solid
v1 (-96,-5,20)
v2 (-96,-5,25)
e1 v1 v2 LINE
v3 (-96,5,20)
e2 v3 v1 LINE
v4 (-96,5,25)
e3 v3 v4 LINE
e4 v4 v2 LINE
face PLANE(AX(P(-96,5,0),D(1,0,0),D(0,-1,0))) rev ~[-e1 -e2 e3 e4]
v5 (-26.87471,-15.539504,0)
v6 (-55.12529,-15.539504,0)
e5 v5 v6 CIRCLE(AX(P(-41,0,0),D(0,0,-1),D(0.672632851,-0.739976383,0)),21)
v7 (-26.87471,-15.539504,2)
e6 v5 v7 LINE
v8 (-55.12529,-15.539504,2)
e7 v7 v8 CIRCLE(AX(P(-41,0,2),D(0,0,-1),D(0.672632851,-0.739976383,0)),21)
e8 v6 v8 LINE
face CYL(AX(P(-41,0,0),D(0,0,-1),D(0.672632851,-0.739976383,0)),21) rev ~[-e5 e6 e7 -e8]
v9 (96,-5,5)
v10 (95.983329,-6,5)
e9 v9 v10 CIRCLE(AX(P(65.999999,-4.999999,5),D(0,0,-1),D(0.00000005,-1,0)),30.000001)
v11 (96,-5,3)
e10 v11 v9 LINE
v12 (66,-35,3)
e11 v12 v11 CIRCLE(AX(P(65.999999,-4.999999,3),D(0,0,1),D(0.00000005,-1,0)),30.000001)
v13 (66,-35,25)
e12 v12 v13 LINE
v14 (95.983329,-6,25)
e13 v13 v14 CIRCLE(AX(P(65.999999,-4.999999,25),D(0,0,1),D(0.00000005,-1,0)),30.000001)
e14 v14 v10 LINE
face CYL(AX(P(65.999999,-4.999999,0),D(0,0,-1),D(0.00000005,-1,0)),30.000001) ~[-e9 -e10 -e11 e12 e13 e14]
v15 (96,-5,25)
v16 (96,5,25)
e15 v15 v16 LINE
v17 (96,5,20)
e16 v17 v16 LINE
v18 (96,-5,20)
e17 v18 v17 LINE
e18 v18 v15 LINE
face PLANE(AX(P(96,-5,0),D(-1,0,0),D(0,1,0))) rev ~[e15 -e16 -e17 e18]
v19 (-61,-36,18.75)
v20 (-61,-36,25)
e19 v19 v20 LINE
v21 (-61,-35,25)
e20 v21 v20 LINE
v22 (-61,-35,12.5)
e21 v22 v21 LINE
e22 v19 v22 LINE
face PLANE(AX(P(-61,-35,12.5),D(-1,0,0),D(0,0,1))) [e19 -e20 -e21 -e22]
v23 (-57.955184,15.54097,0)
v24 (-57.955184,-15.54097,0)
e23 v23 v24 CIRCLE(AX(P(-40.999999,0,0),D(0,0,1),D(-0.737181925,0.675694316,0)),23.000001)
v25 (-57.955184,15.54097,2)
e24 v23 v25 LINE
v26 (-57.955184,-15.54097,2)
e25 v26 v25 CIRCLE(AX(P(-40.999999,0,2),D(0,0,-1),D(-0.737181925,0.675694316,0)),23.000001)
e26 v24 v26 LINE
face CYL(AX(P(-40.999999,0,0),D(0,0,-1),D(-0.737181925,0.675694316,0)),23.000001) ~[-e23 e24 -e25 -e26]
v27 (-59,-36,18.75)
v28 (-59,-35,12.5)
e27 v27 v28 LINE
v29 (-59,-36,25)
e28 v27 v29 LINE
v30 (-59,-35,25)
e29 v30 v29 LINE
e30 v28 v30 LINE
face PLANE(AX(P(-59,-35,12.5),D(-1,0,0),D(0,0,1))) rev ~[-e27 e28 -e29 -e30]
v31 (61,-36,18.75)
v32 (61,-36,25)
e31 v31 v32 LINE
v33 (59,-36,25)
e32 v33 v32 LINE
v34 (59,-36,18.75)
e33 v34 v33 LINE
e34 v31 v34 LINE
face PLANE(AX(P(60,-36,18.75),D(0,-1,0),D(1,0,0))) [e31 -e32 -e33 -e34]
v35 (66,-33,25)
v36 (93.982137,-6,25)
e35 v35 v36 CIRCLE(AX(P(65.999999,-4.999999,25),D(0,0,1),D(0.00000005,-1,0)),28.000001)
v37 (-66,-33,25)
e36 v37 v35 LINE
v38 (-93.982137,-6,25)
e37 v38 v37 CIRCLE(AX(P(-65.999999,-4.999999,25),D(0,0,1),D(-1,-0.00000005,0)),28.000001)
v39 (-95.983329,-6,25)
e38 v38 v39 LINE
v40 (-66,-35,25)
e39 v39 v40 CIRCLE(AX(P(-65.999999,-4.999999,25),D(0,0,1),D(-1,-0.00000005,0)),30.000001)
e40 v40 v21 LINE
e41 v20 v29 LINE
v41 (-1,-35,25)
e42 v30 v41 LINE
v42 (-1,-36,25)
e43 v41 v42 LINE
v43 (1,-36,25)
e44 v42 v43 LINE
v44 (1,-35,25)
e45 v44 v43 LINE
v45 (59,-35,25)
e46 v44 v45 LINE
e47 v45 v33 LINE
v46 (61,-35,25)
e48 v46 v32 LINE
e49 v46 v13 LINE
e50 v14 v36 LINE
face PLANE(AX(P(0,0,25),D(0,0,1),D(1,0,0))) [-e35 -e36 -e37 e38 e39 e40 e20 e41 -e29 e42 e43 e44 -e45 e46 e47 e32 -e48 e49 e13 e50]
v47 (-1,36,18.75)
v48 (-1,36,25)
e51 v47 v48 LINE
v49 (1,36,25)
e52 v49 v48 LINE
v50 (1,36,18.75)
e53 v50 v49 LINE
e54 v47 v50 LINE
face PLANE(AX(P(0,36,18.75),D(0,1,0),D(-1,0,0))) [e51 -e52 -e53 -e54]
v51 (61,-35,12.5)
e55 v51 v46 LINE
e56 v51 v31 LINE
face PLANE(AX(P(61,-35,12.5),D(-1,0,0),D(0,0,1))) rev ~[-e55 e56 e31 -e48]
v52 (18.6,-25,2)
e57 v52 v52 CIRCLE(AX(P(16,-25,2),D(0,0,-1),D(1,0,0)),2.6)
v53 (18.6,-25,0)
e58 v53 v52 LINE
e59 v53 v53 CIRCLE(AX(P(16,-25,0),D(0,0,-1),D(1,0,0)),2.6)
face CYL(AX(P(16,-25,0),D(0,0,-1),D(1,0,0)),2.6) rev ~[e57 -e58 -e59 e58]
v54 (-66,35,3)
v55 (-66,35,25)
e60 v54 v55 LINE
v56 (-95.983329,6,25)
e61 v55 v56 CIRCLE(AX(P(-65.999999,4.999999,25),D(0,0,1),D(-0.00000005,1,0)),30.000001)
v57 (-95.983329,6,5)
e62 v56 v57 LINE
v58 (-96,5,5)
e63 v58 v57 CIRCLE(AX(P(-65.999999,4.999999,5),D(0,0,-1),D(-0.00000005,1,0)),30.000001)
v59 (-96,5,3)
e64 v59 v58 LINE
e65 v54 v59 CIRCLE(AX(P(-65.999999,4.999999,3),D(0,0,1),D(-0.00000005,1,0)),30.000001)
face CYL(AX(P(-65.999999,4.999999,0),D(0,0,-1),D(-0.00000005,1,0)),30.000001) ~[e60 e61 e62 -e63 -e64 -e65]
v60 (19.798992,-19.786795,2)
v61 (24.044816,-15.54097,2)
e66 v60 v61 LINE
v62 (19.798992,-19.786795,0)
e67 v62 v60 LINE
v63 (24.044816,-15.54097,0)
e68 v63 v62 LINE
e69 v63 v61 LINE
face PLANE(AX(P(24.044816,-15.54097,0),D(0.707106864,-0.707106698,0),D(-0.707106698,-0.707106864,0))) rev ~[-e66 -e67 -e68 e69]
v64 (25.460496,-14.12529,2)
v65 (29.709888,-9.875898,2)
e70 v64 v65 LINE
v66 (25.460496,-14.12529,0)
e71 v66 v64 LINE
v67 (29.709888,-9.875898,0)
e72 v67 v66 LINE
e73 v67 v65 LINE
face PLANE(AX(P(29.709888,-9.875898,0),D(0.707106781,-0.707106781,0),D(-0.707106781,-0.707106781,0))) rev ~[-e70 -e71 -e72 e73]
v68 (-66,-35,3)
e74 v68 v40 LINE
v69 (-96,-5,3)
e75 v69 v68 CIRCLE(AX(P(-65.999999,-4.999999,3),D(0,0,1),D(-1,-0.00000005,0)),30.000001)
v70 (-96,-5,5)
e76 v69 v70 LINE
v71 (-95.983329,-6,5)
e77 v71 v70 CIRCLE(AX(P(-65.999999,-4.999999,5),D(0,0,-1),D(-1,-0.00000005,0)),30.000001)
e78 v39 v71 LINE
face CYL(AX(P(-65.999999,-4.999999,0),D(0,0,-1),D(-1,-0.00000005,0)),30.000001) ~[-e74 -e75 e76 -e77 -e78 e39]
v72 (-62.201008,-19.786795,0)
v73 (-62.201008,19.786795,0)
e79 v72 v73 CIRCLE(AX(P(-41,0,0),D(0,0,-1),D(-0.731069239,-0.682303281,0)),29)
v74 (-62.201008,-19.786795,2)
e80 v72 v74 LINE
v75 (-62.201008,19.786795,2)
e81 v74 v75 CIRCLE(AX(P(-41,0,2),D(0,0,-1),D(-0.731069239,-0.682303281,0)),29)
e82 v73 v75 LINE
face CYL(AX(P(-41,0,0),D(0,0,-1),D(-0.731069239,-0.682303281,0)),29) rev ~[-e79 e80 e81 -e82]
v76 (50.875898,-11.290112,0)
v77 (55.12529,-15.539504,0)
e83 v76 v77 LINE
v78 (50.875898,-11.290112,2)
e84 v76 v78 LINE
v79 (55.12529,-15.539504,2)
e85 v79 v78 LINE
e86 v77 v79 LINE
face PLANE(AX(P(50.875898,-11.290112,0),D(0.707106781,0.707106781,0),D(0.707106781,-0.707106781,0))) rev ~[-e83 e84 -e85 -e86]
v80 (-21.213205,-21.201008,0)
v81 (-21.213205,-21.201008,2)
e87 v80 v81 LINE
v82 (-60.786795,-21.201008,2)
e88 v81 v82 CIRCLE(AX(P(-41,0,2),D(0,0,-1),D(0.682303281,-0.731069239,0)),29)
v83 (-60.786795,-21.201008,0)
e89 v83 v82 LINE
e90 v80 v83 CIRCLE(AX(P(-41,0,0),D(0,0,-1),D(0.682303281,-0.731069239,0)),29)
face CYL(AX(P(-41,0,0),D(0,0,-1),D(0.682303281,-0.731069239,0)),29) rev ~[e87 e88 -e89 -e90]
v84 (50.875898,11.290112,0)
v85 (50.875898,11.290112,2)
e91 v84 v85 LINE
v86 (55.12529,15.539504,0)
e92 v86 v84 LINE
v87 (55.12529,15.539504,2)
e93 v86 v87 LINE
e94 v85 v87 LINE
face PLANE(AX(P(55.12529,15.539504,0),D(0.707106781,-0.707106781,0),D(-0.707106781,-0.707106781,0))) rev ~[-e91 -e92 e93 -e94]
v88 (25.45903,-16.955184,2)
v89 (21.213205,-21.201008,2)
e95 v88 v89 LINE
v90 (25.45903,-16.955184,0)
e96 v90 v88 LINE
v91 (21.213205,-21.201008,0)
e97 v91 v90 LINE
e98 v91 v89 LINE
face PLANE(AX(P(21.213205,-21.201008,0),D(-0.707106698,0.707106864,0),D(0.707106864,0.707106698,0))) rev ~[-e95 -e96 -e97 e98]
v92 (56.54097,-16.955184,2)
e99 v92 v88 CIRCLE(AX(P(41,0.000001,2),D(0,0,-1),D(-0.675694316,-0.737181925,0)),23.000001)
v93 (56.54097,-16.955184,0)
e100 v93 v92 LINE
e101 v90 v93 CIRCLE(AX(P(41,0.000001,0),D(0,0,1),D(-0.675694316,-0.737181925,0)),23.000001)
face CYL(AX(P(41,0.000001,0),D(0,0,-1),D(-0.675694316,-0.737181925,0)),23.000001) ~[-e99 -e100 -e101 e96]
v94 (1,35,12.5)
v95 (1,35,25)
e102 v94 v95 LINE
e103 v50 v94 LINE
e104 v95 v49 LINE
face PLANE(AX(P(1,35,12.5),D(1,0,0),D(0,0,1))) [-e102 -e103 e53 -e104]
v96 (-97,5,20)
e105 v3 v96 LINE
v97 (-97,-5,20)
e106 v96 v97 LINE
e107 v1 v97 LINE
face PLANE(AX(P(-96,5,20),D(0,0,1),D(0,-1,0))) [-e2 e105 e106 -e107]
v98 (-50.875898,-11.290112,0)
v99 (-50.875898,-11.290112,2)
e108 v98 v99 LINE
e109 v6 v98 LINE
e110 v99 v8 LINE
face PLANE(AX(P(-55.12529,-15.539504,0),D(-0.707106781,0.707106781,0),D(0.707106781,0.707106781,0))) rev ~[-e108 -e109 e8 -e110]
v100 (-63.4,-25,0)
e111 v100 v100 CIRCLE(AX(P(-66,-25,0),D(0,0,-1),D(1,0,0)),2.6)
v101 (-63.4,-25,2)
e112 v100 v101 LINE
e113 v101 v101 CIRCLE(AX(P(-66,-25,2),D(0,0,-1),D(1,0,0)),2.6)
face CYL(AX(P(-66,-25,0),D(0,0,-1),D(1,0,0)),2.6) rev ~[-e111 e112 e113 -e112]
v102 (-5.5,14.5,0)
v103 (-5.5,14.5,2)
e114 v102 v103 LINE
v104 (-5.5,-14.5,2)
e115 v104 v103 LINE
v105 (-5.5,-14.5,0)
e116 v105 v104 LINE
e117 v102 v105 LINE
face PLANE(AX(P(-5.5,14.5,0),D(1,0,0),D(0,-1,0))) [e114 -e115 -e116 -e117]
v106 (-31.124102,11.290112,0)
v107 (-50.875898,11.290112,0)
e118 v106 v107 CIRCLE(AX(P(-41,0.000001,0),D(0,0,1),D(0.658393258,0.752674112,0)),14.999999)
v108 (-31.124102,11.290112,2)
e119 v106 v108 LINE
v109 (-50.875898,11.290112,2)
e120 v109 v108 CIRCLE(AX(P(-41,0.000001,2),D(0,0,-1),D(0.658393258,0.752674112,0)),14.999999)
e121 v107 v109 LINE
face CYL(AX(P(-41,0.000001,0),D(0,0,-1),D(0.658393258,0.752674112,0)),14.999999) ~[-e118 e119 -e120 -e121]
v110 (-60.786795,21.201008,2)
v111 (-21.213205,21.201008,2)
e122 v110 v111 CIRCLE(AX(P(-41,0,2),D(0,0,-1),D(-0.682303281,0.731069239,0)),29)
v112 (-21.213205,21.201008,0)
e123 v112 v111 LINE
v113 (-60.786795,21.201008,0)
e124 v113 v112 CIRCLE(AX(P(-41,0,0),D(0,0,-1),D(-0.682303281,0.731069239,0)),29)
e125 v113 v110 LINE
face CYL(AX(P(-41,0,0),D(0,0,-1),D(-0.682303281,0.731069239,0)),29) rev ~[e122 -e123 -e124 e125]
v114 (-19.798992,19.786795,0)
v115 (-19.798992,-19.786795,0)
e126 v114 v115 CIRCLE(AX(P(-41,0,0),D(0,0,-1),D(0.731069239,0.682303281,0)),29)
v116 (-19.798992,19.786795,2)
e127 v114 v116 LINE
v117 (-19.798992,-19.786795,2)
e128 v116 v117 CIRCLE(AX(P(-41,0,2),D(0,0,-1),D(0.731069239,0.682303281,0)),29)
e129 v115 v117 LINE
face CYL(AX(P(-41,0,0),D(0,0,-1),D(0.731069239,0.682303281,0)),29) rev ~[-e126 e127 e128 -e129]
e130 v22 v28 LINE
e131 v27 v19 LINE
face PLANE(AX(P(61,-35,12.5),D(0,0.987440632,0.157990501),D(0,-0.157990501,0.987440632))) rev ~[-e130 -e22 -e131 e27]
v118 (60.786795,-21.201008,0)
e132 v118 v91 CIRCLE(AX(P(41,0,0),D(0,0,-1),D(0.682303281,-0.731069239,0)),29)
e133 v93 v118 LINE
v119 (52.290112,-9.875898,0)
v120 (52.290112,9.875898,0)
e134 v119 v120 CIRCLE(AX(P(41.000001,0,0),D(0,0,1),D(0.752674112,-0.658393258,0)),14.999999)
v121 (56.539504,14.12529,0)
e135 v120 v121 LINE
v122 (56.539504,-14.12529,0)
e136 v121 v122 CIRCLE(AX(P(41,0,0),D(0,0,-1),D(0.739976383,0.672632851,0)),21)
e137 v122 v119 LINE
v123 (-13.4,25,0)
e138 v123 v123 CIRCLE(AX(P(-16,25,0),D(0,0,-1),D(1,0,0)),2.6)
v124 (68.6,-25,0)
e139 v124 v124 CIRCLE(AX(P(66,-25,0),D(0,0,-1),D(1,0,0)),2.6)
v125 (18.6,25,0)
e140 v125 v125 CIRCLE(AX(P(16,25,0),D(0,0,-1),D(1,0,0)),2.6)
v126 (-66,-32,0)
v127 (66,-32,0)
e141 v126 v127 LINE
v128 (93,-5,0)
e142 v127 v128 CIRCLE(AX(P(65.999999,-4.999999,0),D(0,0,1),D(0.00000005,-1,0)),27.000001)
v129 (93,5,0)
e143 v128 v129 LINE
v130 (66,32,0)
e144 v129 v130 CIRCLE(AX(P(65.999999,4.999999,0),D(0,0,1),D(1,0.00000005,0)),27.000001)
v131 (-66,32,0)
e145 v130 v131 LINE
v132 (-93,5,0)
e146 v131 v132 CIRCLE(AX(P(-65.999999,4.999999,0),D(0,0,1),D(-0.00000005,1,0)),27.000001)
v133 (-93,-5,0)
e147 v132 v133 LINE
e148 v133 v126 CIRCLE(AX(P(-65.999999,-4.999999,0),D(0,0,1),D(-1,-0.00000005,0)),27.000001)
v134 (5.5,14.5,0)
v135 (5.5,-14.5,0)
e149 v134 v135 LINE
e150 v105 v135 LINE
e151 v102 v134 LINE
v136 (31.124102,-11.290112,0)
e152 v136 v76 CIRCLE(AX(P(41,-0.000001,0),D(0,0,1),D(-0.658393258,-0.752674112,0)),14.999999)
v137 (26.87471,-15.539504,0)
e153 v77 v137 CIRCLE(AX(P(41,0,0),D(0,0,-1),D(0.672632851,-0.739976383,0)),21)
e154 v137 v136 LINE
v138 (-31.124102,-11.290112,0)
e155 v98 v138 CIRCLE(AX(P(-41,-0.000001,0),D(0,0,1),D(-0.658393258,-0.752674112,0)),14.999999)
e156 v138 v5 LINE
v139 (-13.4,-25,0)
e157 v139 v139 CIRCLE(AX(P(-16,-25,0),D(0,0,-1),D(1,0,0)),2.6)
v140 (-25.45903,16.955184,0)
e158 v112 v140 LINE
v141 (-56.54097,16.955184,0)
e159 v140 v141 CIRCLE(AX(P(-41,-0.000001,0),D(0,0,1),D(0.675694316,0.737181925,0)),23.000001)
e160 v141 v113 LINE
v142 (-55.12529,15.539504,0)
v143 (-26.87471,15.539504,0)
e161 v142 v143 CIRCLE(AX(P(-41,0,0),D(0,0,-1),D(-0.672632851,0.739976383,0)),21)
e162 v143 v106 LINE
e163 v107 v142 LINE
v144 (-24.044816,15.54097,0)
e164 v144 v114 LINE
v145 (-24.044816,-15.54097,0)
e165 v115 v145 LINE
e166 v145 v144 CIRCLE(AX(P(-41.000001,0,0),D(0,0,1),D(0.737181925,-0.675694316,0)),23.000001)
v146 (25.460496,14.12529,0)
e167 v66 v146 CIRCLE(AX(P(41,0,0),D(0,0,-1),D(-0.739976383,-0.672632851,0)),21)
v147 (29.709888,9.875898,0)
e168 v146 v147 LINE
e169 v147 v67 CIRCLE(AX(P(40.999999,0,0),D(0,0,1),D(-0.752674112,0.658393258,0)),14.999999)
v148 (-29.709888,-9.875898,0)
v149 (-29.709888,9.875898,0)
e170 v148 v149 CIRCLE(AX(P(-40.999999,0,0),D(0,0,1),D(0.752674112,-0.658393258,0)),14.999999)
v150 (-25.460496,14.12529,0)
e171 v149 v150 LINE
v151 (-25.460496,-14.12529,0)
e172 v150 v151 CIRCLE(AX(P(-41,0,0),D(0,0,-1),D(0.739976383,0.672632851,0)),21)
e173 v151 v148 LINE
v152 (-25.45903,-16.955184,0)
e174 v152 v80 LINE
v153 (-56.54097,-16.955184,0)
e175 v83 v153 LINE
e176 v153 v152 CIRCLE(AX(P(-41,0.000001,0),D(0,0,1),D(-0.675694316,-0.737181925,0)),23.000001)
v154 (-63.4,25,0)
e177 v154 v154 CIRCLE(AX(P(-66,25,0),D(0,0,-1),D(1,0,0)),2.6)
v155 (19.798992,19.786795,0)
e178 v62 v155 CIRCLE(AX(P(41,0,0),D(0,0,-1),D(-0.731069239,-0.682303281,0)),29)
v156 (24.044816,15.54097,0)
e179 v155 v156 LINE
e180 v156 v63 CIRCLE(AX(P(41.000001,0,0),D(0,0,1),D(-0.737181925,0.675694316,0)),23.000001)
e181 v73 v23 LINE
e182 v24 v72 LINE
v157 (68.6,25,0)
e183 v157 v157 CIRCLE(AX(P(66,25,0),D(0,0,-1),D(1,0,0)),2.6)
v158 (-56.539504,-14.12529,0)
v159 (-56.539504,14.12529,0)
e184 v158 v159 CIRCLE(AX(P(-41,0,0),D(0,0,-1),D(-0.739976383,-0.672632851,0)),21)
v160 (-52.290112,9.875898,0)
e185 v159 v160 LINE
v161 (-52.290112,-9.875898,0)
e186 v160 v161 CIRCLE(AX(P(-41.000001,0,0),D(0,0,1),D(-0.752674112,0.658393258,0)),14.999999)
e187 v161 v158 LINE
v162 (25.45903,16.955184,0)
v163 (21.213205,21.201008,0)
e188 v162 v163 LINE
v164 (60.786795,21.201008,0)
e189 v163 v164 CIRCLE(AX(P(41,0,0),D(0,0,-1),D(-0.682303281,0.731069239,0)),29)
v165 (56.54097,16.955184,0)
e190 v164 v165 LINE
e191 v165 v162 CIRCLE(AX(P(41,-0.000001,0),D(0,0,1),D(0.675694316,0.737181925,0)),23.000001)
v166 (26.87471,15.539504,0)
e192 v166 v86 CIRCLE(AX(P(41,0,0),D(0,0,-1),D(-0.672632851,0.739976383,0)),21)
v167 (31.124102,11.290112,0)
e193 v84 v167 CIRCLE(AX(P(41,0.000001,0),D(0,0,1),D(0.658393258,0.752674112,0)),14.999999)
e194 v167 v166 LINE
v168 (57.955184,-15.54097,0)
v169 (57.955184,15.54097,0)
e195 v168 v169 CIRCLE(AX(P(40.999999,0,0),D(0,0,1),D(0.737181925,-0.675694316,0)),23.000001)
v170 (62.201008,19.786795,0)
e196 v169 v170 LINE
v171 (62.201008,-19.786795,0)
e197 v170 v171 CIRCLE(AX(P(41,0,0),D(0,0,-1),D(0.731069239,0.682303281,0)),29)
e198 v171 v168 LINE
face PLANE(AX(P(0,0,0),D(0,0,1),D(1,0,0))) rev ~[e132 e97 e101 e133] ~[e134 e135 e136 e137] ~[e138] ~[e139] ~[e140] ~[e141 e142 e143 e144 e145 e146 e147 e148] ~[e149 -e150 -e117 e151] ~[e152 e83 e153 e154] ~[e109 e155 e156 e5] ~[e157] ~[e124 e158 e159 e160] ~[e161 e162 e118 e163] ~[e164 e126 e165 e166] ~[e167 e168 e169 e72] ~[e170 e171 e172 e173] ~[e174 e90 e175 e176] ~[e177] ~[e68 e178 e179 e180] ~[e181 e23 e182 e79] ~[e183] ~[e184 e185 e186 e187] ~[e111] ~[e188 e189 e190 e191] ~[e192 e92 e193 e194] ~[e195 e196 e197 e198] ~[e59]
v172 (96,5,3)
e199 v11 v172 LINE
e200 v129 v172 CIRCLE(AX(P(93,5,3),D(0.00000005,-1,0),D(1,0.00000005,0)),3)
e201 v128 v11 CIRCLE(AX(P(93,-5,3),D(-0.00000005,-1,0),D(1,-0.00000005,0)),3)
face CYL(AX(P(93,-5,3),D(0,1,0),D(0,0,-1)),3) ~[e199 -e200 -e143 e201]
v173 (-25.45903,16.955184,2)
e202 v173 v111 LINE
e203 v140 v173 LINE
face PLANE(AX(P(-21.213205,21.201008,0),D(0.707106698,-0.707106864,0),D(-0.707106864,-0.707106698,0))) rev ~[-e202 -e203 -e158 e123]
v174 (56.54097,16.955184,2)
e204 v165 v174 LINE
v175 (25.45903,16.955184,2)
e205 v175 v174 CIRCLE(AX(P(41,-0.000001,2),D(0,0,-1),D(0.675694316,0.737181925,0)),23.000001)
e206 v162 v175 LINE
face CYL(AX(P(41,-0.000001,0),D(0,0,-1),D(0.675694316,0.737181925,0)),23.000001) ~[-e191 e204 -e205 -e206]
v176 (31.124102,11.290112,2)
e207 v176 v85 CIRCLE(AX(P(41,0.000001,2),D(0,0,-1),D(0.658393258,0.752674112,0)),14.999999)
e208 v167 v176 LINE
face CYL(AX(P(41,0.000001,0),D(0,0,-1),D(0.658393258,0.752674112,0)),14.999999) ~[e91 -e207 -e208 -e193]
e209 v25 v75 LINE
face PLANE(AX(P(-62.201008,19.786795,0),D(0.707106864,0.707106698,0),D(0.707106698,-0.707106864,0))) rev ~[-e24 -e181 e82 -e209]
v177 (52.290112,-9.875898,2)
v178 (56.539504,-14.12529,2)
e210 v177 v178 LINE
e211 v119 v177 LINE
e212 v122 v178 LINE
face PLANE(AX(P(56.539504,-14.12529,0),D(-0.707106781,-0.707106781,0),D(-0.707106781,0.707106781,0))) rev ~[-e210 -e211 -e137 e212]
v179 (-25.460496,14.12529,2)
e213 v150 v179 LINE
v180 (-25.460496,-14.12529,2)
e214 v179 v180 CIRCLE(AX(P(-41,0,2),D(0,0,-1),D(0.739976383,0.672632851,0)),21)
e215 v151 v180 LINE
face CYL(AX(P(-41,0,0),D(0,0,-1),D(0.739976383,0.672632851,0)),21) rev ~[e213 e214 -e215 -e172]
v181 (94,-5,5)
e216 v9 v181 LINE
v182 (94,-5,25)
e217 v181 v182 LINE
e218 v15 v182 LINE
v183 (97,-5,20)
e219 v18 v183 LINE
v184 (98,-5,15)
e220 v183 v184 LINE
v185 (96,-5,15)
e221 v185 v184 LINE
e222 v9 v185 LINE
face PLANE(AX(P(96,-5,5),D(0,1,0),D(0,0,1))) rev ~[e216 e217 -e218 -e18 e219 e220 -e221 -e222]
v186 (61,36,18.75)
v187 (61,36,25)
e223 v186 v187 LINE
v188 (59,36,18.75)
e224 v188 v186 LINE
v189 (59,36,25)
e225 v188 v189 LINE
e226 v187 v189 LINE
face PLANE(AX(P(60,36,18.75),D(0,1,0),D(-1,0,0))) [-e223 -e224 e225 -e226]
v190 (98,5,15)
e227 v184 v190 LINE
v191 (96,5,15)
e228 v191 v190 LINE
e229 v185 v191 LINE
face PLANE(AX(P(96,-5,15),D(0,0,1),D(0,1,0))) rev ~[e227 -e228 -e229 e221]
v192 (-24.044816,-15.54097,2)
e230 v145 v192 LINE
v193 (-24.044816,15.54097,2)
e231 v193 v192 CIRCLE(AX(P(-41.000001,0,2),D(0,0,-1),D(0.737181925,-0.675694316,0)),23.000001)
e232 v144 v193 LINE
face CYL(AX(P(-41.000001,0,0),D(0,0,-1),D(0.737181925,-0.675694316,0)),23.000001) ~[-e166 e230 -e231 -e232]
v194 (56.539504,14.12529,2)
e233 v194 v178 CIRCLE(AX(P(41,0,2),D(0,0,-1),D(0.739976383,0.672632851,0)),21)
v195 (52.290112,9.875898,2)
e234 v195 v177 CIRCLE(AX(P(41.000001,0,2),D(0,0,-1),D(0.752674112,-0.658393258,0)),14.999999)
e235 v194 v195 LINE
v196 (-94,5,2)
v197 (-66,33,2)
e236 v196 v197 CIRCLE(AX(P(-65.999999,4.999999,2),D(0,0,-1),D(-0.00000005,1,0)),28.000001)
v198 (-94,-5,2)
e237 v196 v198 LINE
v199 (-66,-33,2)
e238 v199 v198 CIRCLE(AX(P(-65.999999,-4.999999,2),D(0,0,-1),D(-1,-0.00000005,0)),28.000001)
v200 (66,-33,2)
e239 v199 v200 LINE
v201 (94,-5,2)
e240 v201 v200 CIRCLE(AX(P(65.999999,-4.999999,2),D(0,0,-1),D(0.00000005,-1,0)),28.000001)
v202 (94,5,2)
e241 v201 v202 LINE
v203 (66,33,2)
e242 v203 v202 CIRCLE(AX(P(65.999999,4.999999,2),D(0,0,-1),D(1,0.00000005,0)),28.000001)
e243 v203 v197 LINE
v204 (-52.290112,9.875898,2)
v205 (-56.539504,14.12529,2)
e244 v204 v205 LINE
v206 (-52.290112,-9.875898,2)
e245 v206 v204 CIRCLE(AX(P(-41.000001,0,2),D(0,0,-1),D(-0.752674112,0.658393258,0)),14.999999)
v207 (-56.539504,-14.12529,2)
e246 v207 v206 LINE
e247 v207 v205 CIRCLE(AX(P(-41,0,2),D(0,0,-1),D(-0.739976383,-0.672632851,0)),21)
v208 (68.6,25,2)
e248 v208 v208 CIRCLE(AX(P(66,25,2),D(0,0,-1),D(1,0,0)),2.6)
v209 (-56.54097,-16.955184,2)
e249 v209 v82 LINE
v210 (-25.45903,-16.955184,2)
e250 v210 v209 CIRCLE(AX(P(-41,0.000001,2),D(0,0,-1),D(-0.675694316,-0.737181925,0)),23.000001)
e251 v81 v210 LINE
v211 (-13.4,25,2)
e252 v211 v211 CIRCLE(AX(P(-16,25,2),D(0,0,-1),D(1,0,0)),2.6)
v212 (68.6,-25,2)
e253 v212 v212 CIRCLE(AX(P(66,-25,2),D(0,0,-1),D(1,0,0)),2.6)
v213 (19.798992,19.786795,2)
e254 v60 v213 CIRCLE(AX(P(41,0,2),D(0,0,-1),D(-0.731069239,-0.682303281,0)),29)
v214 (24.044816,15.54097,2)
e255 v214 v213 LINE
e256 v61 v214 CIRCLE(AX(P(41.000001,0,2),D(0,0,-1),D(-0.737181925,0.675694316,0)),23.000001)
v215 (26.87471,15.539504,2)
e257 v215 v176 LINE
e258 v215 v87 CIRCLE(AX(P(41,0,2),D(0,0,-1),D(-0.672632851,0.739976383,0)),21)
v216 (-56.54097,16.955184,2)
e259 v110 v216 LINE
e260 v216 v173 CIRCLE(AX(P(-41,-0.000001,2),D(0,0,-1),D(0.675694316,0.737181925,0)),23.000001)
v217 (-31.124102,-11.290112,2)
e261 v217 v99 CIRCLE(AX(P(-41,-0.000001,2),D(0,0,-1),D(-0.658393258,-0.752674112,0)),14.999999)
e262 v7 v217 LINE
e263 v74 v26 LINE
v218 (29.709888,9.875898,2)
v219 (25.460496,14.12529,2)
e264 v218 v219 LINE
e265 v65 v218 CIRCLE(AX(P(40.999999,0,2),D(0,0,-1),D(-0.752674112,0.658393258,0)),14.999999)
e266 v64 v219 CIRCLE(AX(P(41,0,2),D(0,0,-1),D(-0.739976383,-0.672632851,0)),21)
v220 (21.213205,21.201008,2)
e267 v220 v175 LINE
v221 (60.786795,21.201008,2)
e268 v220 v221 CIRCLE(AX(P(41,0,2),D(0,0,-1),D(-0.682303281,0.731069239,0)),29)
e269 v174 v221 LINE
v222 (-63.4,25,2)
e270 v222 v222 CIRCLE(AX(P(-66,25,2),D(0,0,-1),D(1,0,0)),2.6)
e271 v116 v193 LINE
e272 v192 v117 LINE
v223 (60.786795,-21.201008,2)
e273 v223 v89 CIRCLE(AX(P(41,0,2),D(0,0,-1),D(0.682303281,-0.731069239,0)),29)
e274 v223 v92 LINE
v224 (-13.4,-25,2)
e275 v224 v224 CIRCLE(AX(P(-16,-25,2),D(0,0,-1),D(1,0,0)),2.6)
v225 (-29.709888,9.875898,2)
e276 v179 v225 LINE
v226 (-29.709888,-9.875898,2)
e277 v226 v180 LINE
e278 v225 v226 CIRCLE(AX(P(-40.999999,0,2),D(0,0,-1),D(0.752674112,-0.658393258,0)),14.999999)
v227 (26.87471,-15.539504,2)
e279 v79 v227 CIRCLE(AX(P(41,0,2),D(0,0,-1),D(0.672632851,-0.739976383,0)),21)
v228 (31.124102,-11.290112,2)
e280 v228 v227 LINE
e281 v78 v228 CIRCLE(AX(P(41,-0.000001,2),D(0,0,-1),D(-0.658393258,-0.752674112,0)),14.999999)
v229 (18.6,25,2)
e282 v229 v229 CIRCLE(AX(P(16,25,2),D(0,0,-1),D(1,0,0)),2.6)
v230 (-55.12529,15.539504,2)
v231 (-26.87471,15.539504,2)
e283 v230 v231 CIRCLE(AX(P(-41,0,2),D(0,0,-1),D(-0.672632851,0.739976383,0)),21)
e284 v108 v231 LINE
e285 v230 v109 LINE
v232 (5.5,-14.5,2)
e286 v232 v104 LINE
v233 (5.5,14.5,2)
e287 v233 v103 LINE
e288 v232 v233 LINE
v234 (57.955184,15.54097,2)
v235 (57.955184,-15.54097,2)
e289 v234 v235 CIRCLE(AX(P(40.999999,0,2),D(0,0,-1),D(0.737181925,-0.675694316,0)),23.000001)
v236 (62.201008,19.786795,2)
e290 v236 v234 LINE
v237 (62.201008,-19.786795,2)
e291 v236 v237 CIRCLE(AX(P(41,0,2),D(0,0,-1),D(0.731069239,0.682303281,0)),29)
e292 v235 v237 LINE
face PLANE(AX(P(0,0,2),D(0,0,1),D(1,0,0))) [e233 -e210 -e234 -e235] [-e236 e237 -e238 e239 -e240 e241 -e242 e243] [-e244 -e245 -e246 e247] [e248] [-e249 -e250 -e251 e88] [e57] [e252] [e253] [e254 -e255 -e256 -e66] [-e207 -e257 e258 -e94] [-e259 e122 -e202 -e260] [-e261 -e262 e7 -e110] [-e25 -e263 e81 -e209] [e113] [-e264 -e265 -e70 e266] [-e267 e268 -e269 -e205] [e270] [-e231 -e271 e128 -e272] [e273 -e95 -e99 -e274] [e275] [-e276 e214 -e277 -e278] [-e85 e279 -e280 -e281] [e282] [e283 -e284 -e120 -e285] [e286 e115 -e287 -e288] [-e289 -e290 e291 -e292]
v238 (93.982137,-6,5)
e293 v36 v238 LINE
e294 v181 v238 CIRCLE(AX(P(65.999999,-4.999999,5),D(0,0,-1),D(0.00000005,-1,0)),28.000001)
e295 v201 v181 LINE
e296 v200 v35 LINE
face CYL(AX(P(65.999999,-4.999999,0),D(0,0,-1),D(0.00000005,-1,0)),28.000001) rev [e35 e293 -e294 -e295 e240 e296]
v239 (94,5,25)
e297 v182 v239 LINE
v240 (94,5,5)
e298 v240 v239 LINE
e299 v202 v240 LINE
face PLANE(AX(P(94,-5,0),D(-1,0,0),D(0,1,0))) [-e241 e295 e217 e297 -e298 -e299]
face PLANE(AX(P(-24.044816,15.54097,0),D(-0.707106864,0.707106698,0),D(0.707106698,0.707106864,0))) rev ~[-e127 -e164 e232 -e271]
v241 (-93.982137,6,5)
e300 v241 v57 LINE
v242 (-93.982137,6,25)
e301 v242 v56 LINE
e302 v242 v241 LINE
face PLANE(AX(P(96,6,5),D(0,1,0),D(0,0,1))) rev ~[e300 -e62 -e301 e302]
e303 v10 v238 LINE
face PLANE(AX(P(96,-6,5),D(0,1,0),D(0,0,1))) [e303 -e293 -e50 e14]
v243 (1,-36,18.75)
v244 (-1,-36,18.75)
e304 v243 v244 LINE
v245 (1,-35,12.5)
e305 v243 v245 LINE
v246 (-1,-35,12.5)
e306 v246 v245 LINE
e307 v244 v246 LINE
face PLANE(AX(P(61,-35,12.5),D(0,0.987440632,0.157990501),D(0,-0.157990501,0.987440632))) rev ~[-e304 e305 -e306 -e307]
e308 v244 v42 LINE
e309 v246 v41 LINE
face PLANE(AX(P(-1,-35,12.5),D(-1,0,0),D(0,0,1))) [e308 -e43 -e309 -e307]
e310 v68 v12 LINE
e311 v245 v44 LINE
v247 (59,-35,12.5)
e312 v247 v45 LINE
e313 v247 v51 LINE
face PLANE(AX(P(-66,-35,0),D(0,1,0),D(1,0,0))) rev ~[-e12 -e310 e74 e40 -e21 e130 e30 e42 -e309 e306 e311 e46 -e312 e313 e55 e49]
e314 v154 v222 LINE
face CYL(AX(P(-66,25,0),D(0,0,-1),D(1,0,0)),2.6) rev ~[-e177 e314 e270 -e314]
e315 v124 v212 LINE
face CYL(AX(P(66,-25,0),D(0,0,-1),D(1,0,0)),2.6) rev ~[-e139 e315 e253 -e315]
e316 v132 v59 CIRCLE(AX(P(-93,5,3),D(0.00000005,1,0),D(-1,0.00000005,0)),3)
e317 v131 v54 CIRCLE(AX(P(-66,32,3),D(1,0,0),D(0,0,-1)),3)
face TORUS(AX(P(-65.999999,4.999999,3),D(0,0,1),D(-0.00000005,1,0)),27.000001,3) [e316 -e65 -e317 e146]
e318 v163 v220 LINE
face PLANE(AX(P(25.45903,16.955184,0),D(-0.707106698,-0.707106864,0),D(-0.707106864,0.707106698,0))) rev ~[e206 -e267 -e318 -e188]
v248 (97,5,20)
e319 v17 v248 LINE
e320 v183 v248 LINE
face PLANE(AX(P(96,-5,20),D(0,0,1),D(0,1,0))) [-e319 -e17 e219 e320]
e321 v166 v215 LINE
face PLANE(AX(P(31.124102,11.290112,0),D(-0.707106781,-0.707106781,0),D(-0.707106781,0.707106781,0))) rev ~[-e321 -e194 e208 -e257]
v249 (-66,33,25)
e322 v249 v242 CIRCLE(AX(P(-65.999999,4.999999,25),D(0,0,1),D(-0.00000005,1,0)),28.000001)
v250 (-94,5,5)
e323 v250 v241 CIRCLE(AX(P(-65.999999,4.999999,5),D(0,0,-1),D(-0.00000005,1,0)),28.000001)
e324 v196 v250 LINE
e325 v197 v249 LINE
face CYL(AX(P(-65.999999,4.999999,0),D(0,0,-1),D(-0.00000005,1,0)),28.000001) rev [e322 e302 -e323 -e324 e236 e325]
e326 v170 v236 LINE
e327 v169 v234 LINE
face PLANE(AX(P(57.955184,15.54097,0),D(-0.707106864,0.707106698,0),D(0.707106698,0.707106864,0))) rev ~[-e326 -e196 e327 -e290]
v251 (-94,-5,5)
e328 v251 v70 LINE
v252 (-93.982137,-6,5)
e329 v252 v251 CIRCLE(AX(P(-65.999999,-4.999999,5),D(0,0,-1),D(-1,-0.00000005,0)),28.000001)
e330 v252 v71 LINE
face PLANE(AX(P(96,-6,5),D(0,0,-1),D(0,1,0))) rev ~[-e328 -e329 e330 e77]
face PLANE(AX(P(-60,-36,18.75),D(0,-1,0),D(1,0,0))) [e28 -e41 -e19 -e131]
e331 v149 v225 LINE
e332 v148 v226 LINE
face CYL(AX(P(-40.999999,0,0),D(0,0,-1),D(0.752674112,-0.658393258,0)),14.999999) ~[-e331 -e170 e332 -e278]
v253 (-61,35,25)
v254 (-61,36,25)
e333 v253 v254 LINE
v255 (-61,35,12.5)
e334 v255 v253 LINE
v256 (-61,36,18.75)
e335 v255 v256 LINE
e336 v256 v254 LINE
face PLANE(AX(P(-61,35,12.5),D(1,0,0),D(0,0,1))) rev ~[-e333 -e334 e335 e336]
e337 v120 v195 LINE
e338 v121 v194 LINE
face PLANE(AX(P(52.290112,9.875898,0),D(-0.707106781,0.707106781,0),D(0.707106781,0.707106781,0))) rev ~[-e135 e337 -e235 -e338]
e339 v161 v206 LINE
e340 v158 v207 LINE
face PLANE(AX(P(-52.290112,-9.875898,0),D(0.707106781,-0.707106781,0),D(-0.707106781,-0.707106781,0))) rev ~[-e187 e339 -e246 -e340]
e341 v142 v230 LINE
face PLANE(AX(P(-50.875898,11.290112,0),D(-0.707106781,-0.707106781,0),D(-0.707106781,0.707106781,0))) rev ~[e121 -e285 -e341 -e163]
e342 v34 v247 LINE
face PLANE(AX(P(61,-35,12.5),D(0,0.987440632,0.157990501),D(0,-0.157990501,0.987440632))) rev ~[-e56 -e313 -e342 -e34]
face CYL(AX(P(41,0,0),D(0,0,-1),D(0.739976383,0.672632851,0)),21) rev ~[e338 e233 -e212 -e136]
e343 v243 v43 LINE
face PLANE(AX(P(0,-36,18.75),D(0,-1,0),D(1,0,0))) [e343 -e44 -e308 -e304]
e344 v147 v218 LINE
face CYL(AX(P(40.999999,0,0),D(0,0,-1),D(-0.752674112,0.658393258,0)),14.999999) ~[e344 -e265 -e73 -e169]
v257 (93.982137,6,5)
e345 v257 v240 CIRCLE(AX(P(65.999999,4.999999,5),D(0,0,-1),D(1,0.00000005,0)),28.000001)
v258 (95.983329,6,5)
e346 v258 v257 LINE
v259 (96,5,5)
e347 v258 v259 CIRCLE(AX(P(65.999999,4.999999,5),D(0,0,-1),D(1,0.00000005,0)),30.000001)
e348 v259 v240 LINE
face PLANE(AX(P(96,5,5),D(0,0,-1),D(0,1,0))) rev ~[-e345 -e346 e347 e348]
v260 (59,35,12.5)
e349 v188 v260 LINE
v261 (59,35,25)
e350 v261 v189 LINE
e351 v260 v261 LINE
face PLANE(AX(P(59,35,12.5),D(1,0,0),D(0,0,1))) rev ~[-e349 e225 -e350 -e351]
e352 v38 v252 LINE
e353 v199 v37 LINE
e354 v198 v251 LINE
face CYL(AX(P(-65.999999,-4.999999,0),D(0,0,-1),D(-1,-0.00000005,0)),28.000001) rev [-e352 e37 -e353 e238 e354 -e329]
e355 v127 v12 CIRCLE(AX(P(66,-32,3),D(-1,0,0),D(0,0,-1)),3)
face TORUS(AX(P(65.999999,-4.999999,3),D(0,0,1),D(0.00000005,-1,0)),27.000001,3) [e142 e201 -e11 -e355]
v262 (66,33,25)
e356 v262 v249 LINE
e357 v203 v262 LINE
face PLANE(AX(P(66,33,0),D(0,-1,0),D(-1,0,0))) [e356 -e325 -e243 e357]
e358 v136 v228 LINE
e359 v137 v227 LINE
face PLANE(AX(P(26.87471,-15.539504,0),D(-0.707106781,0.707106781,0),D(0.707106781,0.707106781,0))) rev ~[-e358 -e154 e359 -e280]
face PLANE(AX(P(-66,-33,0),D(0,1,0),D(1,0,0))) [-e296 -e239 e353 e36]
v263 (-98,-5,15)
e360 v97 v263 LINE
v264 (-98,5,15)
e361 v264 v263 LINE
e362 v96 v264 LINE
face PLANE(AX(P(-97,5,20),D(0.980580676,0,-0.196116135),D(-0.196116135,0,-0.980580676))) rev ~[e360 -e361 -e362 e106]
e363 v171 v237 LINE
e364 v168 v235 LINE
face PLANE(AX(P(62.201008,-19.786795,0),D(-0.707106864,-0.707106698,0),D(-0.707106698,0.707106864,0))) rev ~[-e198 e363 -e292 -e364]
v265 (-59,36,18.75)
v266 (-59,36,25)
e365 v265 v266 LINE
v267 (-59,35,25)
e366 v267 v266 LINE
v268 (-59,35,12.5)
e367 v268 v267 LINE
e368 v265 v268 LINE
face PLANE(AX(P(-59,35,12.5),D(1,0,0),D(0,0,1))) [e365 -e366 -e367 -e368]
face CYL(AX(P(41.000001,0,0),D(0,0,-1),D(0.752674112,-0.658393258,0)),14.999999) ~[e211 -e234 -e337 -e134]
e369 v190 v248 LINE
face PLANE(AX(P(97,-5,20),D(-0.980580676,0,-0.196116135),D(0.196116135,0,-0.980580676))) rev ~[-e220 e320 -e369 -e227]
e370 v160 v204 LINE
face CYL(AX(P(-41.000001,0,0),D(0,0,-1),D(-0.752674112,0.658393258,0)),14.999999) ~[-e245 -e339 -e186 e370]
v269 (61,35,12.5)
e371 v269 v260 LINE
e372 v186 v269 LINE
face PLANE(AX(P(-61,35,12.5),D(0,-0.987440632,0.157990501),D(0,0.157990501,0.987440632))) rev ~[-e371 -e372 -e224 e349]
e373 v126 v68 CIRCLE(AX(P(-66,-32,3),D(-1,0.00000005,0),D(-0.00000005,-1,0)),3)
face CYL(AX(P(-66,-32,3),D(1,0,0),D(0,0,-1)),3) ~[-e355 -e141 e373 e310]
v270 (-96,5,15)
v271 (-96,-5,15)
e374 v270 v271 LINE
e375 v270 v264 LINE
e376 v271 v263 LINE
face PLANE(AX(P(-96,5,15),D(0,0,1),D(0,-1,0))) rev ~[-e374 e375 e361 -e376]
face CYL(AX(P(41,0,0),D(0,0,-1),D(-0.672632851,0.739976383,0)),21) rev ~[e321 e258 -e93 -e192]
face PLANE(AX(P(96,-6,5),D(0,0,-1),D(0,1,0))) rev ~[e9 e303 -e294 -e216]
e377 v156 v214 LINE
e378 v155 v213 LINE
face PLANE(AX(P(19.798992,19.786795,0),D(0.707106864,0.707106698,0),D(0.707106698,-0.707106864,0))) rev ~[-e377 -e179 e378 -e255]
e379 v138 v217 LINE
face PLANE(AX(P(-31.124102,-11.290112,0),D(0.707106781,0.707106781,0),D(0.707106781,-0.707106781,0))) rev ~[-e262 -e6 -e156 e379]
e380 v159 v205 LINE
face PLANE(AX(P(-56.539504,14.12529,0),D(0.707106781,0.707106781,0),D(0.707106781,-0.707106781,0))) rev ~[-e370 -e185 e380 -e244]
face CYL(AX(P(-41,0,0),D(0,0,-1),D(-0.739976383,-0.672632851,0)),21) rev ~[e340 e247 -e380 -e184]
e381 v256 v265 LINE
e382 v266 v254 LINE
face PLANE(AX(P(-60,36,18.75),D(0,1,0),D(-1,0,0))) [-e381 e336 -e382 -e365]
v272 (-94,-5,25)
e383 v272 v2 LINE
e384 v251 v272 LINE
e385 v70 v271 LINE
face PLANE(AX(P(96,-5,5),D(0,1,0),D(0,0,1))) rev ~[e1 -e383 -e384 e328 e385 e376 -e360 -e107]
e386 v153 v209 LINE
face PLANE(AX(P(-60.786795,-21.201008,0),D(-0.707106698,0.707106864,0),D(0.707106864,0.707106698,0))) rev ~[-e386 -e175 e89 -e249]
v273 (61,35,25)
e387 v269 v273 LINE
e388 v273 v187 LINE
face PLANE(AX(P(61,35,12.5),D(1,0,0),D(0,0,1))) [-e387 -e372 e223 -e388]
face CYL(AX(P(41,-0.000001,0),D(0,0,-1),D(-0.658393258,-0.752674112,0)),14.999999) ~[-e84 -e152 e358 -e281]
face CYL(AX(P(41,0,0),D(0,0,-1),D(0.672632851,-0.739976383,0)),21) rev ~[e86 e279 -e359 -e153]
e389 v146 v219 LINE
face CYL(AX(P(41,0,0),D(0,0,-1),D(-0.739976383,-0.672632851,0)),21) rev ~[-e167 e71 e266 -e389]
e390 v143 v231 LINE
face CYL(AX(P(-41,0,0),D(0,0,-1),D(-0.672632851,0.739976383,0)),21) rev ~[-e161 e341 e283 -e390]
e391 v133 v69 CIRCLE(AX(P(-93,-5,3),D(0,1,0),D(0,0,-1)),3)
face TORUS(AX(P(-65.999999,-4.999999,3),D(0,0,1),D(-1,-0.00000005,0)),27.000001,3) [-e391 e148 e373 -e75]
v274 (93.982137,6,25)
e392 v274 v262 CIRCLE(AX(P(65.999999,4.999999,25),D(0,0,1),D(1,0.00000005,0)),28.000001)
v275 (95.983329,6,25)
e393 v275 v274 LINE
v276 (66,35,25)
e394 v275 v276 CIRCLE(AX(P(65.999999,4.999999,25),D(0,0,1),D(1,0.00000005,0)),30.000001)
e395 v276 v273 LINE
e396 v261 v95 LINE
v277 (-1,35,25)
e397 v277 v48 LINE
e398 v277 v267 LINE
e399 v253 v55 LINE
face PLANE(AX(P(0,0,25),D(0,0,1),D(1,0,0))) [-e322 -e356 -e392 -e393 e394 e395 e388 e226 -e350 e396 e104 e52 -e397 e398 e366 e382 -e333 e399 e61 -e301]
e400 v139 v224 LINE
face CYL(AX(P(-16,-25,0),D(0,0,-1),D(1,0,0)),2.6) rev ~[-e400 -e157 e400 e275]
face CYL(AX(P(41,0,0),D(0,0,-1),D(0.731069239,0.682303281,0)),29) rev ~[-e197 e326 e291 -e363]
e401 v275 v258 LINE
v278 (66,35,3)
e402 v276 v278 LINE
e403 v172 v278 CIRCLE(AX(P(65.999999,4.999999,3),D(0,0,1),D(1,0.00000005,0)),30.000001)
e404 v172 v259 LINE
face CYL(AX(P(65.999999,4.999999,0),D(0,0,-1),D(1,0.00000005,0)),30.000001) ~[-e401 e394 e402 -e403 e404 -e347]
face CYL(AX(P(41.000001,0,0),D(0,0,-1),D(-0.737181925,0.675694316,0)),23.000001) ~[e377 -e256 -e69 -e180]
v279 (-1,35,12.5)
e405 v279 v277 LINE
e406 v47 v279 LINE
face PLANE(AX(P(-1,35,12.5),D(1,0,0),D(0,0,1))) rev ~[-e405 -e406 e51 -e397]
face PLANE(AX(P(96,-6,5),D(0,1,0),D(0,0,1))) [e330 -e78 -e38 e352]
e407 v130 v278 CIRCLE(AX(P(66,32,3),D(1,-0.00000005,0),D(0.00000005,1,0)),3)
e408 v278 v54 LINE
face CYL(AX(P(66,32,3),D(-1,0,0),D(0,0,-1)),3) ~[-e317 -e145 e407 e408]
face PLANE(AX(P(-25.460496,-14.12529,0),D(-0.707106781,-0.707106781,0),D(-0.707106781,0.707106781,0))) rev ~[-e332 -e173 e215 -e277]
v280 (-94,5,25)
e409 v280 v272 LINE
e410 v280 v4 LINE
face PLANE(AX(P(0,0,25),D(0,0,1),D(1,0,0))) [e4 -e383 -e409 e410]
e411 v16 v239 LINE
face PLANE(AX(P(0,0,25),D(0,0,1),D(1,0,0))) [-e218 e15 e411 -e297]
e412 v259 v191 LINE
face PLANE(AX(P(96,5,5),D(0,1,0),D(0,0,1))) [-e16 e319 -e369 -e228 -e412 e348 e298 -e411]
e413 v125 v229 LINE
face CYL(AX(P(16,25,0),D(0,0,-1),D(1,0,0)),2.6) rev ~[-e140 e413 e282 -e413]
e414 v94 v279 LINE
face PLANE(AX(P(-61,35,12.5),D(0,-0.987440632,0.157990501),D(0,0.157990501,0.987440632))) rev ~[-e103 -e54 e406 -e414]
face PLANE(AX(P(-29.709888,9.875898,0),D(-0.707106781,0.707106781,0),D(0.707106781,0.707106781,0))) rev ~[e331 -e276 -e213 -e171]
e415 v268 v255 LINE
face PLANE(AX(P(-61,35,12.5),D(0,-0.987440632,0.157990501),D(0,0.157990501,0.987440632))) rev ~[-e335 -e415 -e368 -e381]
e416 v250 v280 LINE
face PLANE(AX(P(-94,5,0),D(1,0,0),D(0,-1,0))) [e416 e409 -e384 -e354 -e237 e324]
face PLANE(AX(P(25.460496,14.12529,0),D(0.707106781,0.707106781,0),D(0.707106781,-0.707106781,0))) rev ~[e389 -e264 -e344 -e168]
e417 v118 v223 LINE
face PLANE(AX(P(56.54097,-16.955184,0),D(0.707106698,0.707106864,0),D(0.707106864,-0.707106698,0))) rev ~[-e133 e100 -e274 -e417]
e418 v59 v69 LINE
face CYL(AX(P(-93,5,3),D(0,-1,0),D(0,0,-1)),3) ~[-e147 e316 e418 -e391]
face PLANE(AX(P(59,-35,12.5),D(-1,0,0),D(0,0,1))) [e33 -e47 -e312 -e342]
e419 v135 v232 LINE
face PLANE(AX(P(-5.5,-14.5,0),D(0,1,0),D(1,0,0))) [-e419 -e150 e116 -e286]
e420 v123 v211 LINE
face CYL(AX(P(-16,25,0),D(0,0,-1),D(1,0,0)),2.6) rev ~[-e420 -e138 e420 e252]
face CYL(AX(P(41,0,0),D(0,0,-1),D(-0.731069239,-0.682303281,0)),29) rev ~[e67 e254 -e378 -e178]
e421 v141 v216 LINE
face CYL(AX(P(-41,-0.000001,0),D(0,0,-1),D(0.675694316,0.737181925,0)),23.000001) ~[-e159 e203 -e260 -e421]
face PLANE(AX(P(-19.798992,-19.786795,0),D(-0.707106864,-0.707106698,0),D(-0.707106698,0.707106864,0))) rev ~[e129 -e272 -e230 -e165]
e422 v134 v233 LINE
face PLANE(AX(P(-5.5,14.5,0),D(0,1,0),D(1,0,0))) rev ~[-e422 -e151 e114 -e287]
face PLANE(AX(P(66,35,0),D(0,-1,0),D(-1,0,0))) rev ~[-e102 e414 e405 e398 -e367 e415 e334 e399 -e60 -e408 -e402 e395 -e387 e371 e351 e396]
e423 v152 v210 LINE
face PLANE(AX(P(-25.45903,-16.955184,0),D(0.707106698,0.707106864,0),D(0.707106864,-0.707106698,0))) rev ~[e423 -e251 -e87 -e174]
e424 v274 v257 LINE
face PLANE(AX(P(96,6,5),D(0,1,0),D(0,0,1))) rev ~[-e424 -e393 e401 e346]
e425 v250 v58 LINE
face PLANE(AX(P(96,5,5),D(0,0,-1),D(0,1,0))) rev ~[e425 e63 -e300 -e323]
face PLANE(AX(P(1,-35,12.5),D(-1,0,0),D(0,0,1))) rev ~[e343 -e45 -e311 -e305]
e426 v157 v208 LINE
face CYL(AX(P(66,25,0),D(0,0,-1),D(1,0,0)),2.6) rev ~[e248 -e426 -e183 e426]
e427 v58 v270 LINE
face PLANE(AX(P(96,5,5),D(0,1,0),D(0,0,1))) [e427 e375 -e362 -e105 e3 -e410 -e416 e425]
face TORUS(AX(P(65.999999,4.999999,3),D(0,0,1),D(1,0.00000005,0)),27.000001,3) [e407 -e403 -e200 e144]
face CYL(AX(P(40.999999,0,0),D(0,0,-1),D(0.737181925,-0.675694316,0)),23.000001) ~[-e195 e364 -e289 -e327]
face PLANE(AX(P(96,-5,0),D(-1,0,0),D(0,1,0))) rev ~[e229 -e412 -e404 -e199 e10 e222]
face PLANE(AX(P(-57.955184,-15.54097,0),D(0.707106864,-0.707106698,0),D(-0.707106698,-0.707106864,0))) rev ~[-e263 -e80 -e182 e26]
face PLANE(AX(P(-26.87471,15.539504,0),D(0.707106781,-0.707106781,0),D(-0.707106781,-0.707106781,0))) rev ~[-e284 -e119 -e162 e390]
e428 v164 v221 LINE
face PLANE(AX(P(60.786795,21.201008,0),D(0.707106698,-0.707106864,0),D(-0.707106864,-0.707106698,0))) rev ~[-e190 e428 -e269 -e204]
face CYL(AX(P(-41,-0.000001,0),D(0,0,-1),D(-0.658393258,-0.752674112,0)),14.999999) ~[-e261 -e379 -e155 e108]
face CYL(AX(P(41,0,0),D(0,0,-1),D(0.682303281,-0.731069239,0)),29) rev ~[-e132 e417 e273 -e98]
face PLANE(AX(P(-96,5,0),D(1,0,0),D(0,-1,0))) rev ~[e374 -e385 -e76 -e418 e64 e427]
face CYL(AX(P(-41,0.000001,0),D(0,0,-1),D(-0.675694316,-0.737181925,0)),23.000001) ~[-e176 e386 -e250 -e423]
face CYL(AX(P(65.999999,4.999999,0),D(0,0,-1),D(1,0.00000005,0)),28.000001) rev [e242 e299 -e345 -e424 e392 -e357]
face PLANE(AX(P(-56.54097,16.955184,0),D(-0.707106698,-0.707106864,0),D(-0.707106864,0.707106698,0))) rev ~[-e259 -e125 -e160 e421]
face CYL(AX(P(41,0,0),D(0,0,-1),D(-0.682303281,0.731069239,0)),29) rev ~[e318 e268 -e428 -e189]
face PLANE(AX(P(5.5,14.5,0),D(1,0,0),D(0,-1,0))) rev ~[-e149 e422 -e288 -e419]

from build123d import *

# Parameters (mm, degrees)
F1_DEPTH  = 25
F2_T      = -2
F3_W      = 1
F3_H      = 20
F4_DEPTH  = 192.001
F5_W      = 10
F5_H      = 5
F6_DEPTH  = 2
F8_DEPTH  = 40.001
F9_W      = 10
F9_H      = 5
F10_DEPTH = 2
F12_DEPTH = 40.001
F13_W     = 2
F13_H     = 12.5
F14_DEPTH = 1
F16_DEPTH = 159.001
F17_W     = 2
F17_H     = 12.5
F18_DEPTH = 1
F20_DEPTH = 159.001
F21_R     = 2.6
F22_DEPTH = 25.001
F23_W     = 11
F23_H     = 29
F24_DEPTH = 25.001
F25_R     = 3


with BuildPart() as f1:
    # F0 (on Top) → F1 (new body)
    with BuildSketch(Plane.XY):
        with BuildLine():
            ThreePointArc((-66, 35), (-87.213203, 26.213203), (-96, 5))
            Line((-96, 5), (-96, -5))
            ThreePointArc((-96, -5), (-87.213203, -26.213203), (-66, -35))
            Line((-66, -35), (66, -35))
            ThreePointArc((66, -35), (87.213203, -26.213203), (96, -5))
            Line((96, -5), (96, 5))
            ThreePointArc((96, 5), (87.213203, 26.213203), (66, 35))
            Line((66, 35), (-66, 35))
        make_face()
    extrude(amount=F1_DEPTH)

    # F2
    f2_openings = [f1.faces().sort_by_distance(p)[0] for p in [
        (0, 0, 25),
    ]]
    offset(amount=F2_T, openings=f2_openings)

    # F3 (on face) → F4 (cut, through all)
    with BuildSketch(Plane.YZ.offset(96)):
        with Locations((-5.5, 15)):
            Rectangle(F3_W, F3_H)
        with Locations((5.5, 15)):
            Rectangle(F3_W, F3_H)
    extrude(amount=-F4_DEPTH, mode=Mode.SUBTRACT)

    # F5 (on face) → F6 (join)
    with BuildSketch(Plane.YZ.offset(96)):
        with Locations((0, 17.5)):
            Rectangle(F5_W, F5_H)
    extrude(amount=F6_DEPTH)

    # F7 (on face) → F8 (cut, through all)
    with BuildSketch(Plane.XZ.offset(5)):
        Polygon((97, 20), (98, 15), (98, 20), align=None)
    extrude(amount=-F8_DEPTH, mode=Mode.SUBTRACT)

    # F9 (on face) → F10 (join)
    with BuildSketch(Plane(origin=(-96, 0, 0), x_dir=(0, -1, 0), z_dir=(-1, 0, 0))):
        with Locations((0, 17.5)):
            Rectangle(F9_W, F9_H)
    extrude(amount=F10_DEPTH)

    # F11 (on face) → F12 (cut, through all)
    with BuildSketch(Plane(origin=(0, 5, 0), x_dir=(-1, 0, 0), z_dir=(0, 1, 0))):
        Polygon((97, 20), (98, 15), (98, 20), align=None)
    extrude(amount=-F12_DEPTH, mode=Mode.SUBTRACT)

    # F13 (on face) → F14 (join)
    with BuildSketch(Plane.XZ.offset(35)):
        with Locations((-60, 18.75)):
            Rectangle(F13_W, F13_H)
        with Locations((0, 18.75)):
            Rectangle(F13_W, F13_H)
        with Locations((60, 18.75)):
            Rectangle(F13_W, F13_H)
    extrude(amount=F14_DEPTH)

    # F15 (on face) → F16 (cut, through all)
    with BuildSketch(Plane.YZ.offset(61)):
        Polygon((-36, 12.5), (-35, 12.5), (-36, 18.75), align=None)
    extrude(amount=-F16_DEPTH, mode=Mode.SUBTRACT)

    # F17 (on face) → F18 (join)
    with BuildSketch(Plane(origin=(0, 35, 0), x_dir=(-1, 0, 0), z_dir=(0, 1, 0))):
        with Locations((-60, 18.75)):
            Rectangle(F17_W, F17_H)
        with Locations((0, 18.75)):
            Rectangle(F17_W, F17_H)
        with Locations((60, 18.75)):
            Rectangle(F17_W, F17_H)
    extrude(amount=F18_DEPTH)

    # F19 (on face) → F20 (cut, through all)
    with BuildSketch(Plane(origin=(-61, 0, 0), x_dir=(0, -1, 0), z_dir=(-1, 0, 0))):
        Polygon((-36, 12.5), (-35, 12.5), (-36, 18.75), align=None)
    extrude(amount=-F20_DEPTH, mode=Mode.SUBTRACT)

    # F21 (on face) → F22 (cut, through all)
    with BuildSketch(Plane(origin=(0, 0, 0), x_dir=(1, 0, 0), z_dir=(0, 0, -1))):
        with Locations((-66, 25)):
            Circle(F21_R)
        with Locations((-16, 25)):
            Circle(F21_R)
        with Locations((-66, -25)):
            Circle(F21_R)
        with Locations((-16, -25)):
            Circle(F21_R)
        with BuildLine():
            Line((-31.124102, 11.290112), (-26.87471, 15.539504))
            ThreePointArc((-26.87471, 15.539504), (-41, 21), (-55.12529, 15.539504))
            Line((-55.12529, 15.539504), (-50.875898, 11.290112))
            ThreePointArc((-50.875898, 11.290112), (-41, 15), (-31.124102, 11.290112))
        make_face()
        with BuildLine():
            ThreePointArc((-25.460496, -14.12529), (-20, 0), (-25.460496, 14.12529))
            Line((-25.460496, 14.12529), (-29.709888, 9.875898))
            ThreePointArc((-29.709888, 9.875898), (-26, 0), (-29.709888, -9.875898))
            Line((-29.709888, -9.875898), (-25.460496, -14.12529))
        make_face()
        with BuildLine():
            ThreePointArc((-55.12529, -15.539504), (-41, -21), (-26.87471, -15.539504))
            Line((-26.87471, -15.539504), (-31.124102, -11.290112))
            ThreePointArc((-31.124102, -11.290112), (-41, -15), (-50.875898, -11.290112))
            Line((-50.875898, -11.290112), (-55.12529, -15.539504))
        make_face()
        with BuildLine():
            ThreePointArc((-56.539504, 14.12529), (-62, 0), (-56.539504, -14.12529))
            Line((-56.539504, -14.12529), (-52.290112, -9.875898))
            ThreePointArc((-52.290112, -9.875898), (-56, 0), (-52.290112, 9.875898))
            Line((-52.290112, 9.875898), (-56.539504, 14.12529))
        make_face()
        with BuildLine():
            Line((-60.786795, 21.201008), (-56.54097, 16.955184))
            ThreePointArc((-56.54097, 16.955184), (-41, 23), (-25.45903, 16.955184))
            Line((-25.45903, 16.955184), (-21.213205, 21.201008))
            ThreePointArc((-21.213205, 21.201008), (-41, 29), (-60.786795, 21.201008))
        make_face()
        with BuildLine():
            Line((-21.213205, -21.201008), (-25.45903, -16.955184))
            ThreePointArc((-25.45903, -16.955184), (-41, -23), (-56.54097, -16.955184))
            Line((-56.54097, -16.955184), (-60.786795, -21.201008))
            ThreePointArc((-60.786795, -21.201008), (-41, -29), (-21.213205, -21.201008))
        make_face()
        with BuildLine():
            Line((-62.201008, -19.786795), (-57.955184, -15.54097))
            ThreePointArc((-57.955184, -15.54097), (-64, 0), (-57.955184, 15.54097))
            Line((-57.955184, 15.54097), (-62.201008, 19.786795))
            ThreePointArc((-62.201008, 19.786795), (-70, 0), (-62.201008, -19.786795))
        make_face()
        with BuildLine():
            Line((-19.798992, 19.786795), (-24.044816, 15.54097))
            ThreePointArc((-24.044816, 15.54097), (-18, 0), (-24.044816, -15.54097))
            Line((-24.044816, -15.54097), (-19.798992, -19.786795))
            ThreePointArc((-19.798992, -19.786795), (-12, 0), (-19.798992, 19.786795))
        make_face()
        with Locations((16, 25)):
            Circle(F21_R)
        with Locations((66, 25)):
            Circle(F21_R)
        with Locations((16, -25)):
            Circle(F21_R)
        with Locations((66, -25)):
            Circle(F21_R)
        with BuildLine():
            Line((50.875898, 11.290112), (55.12529, 15.539504))
            ThreePointArc((55.12529, 15.539504), (41, 21), (26.87471, 15.539504))
            Line((26.87471, 15.539504), (31.124102, 11.290112))
            ThreePointArc((31.124102, 11.290112), (41, 15), (50.875898, 11.290112))
        make_face()
        with BuildLine():
            ThreePointArc((56.539504, -14.12529), (62, 0), (56.539504, 14.12529))
            Line((56.539504, 14.12529), (52.290112, 9.875898))
            ThreePointArc((52.290112, 9.875898), (56, 0), (52.290112, -9.875898))
            Line((52.290112, -9.875898), (56.539504, -14.12529))
        make_face()
        with BuildLine():
            ThreePointArc((26.87471, -15.539504), (41, -21), (55.12529, -15.539504))
            Line((55.12529, -15.539504), (50.875898, -11.290112))
            ThreePointArc((50.875898, -11.290112), (41, -15), (31.124102, -11.290112))
            Line((31.124102, -11.290112), (26.87471, -15.539504))
        make_face()
        with BuildLine():
            ThreePointArc((25.460496, 14.12529), (20, 0), (25.460496, -14.12529))
            Line((25.460496, -14.12529), (29.709888, -9.875898))
            ThreePointArc((29.709888, -9.875898), (26, 0), (29.709888, 9.875898))
            Line((29.709888, 9.875898), (25.460496, 14.12529))
        make_face()
        with BuildLine():
            Line((21.213205, 21.201008), (25.45903, 16.955184))
            ThreePointArc((25.45903, 16.955184), (41, 23), (56.54097, 16.955184))
            Line((56.54097, 16.955184), (60.786795, 21.201008))
            ThreePointArc((60.786795, 21.201008), (41, 29), (21.213205, 21.201008))
        make_face()
        with BuildLine():
            Line((60.786795, -21.201008), (56.54097, -16.955184))
            ThreePointArc((56.54097, -16.955184), (41, -23), (25.45903, -16.955184))
            Line((25.45903, -16.955184), (21.213205, -21.201008))
            ThreePointArc((21.213205, -21.201008), (41, -29), (60.786795, -21.201008))
        make_face()
        with BuildLine():
            Line((19.798992, -19.786795), (24.044816, -15.54097))
            ThreePointArc((24.044816, -15.54097), (18, 0), (24.044816, 15.54097))
            Line((24.044816, 15.54097), (19.798992, 19.786795))
            ThreePointArc((19.798992, 19.786795), (12, 0), (19.798992, -19.786795))
        make_face()
        with BuildLine():
            Line((62.201008, 19.786795), (57.955184, 15.54097))
            ThreePointArc((57.955184, 15.54097), (64, 0), (57.955184, -15.54097))
            Line((57.955184, -15.54097), (62.201008, -19.786795))
            ThreePointArc((62.201008, -19.786795), (70, 0), (62.201008, 19.786795))
        make_face()
    extrude(amount=-F22_DEPTH, mode=Mode.SUBTRACT)

    # F23 (on face) → F24 (cut, through all)
    with BuildSketch(Plane(origin=(0, 0, 0), x_dir=(1, 0, 0), z_dir=(0, 0, -1))):
        Rectangle(F23_W, F23_H)
    extrude(amount=-F24_DEPTH, mode=Mode.SUBTRACT)

    # F25
    f25_edges = [f1.edges().sort_by_distance(p)[0] for p in [
        (87.213203, 26.213203, 0),
    ]]
    fillet(f25_edges, radius=F25_R)


solid = f1.part
